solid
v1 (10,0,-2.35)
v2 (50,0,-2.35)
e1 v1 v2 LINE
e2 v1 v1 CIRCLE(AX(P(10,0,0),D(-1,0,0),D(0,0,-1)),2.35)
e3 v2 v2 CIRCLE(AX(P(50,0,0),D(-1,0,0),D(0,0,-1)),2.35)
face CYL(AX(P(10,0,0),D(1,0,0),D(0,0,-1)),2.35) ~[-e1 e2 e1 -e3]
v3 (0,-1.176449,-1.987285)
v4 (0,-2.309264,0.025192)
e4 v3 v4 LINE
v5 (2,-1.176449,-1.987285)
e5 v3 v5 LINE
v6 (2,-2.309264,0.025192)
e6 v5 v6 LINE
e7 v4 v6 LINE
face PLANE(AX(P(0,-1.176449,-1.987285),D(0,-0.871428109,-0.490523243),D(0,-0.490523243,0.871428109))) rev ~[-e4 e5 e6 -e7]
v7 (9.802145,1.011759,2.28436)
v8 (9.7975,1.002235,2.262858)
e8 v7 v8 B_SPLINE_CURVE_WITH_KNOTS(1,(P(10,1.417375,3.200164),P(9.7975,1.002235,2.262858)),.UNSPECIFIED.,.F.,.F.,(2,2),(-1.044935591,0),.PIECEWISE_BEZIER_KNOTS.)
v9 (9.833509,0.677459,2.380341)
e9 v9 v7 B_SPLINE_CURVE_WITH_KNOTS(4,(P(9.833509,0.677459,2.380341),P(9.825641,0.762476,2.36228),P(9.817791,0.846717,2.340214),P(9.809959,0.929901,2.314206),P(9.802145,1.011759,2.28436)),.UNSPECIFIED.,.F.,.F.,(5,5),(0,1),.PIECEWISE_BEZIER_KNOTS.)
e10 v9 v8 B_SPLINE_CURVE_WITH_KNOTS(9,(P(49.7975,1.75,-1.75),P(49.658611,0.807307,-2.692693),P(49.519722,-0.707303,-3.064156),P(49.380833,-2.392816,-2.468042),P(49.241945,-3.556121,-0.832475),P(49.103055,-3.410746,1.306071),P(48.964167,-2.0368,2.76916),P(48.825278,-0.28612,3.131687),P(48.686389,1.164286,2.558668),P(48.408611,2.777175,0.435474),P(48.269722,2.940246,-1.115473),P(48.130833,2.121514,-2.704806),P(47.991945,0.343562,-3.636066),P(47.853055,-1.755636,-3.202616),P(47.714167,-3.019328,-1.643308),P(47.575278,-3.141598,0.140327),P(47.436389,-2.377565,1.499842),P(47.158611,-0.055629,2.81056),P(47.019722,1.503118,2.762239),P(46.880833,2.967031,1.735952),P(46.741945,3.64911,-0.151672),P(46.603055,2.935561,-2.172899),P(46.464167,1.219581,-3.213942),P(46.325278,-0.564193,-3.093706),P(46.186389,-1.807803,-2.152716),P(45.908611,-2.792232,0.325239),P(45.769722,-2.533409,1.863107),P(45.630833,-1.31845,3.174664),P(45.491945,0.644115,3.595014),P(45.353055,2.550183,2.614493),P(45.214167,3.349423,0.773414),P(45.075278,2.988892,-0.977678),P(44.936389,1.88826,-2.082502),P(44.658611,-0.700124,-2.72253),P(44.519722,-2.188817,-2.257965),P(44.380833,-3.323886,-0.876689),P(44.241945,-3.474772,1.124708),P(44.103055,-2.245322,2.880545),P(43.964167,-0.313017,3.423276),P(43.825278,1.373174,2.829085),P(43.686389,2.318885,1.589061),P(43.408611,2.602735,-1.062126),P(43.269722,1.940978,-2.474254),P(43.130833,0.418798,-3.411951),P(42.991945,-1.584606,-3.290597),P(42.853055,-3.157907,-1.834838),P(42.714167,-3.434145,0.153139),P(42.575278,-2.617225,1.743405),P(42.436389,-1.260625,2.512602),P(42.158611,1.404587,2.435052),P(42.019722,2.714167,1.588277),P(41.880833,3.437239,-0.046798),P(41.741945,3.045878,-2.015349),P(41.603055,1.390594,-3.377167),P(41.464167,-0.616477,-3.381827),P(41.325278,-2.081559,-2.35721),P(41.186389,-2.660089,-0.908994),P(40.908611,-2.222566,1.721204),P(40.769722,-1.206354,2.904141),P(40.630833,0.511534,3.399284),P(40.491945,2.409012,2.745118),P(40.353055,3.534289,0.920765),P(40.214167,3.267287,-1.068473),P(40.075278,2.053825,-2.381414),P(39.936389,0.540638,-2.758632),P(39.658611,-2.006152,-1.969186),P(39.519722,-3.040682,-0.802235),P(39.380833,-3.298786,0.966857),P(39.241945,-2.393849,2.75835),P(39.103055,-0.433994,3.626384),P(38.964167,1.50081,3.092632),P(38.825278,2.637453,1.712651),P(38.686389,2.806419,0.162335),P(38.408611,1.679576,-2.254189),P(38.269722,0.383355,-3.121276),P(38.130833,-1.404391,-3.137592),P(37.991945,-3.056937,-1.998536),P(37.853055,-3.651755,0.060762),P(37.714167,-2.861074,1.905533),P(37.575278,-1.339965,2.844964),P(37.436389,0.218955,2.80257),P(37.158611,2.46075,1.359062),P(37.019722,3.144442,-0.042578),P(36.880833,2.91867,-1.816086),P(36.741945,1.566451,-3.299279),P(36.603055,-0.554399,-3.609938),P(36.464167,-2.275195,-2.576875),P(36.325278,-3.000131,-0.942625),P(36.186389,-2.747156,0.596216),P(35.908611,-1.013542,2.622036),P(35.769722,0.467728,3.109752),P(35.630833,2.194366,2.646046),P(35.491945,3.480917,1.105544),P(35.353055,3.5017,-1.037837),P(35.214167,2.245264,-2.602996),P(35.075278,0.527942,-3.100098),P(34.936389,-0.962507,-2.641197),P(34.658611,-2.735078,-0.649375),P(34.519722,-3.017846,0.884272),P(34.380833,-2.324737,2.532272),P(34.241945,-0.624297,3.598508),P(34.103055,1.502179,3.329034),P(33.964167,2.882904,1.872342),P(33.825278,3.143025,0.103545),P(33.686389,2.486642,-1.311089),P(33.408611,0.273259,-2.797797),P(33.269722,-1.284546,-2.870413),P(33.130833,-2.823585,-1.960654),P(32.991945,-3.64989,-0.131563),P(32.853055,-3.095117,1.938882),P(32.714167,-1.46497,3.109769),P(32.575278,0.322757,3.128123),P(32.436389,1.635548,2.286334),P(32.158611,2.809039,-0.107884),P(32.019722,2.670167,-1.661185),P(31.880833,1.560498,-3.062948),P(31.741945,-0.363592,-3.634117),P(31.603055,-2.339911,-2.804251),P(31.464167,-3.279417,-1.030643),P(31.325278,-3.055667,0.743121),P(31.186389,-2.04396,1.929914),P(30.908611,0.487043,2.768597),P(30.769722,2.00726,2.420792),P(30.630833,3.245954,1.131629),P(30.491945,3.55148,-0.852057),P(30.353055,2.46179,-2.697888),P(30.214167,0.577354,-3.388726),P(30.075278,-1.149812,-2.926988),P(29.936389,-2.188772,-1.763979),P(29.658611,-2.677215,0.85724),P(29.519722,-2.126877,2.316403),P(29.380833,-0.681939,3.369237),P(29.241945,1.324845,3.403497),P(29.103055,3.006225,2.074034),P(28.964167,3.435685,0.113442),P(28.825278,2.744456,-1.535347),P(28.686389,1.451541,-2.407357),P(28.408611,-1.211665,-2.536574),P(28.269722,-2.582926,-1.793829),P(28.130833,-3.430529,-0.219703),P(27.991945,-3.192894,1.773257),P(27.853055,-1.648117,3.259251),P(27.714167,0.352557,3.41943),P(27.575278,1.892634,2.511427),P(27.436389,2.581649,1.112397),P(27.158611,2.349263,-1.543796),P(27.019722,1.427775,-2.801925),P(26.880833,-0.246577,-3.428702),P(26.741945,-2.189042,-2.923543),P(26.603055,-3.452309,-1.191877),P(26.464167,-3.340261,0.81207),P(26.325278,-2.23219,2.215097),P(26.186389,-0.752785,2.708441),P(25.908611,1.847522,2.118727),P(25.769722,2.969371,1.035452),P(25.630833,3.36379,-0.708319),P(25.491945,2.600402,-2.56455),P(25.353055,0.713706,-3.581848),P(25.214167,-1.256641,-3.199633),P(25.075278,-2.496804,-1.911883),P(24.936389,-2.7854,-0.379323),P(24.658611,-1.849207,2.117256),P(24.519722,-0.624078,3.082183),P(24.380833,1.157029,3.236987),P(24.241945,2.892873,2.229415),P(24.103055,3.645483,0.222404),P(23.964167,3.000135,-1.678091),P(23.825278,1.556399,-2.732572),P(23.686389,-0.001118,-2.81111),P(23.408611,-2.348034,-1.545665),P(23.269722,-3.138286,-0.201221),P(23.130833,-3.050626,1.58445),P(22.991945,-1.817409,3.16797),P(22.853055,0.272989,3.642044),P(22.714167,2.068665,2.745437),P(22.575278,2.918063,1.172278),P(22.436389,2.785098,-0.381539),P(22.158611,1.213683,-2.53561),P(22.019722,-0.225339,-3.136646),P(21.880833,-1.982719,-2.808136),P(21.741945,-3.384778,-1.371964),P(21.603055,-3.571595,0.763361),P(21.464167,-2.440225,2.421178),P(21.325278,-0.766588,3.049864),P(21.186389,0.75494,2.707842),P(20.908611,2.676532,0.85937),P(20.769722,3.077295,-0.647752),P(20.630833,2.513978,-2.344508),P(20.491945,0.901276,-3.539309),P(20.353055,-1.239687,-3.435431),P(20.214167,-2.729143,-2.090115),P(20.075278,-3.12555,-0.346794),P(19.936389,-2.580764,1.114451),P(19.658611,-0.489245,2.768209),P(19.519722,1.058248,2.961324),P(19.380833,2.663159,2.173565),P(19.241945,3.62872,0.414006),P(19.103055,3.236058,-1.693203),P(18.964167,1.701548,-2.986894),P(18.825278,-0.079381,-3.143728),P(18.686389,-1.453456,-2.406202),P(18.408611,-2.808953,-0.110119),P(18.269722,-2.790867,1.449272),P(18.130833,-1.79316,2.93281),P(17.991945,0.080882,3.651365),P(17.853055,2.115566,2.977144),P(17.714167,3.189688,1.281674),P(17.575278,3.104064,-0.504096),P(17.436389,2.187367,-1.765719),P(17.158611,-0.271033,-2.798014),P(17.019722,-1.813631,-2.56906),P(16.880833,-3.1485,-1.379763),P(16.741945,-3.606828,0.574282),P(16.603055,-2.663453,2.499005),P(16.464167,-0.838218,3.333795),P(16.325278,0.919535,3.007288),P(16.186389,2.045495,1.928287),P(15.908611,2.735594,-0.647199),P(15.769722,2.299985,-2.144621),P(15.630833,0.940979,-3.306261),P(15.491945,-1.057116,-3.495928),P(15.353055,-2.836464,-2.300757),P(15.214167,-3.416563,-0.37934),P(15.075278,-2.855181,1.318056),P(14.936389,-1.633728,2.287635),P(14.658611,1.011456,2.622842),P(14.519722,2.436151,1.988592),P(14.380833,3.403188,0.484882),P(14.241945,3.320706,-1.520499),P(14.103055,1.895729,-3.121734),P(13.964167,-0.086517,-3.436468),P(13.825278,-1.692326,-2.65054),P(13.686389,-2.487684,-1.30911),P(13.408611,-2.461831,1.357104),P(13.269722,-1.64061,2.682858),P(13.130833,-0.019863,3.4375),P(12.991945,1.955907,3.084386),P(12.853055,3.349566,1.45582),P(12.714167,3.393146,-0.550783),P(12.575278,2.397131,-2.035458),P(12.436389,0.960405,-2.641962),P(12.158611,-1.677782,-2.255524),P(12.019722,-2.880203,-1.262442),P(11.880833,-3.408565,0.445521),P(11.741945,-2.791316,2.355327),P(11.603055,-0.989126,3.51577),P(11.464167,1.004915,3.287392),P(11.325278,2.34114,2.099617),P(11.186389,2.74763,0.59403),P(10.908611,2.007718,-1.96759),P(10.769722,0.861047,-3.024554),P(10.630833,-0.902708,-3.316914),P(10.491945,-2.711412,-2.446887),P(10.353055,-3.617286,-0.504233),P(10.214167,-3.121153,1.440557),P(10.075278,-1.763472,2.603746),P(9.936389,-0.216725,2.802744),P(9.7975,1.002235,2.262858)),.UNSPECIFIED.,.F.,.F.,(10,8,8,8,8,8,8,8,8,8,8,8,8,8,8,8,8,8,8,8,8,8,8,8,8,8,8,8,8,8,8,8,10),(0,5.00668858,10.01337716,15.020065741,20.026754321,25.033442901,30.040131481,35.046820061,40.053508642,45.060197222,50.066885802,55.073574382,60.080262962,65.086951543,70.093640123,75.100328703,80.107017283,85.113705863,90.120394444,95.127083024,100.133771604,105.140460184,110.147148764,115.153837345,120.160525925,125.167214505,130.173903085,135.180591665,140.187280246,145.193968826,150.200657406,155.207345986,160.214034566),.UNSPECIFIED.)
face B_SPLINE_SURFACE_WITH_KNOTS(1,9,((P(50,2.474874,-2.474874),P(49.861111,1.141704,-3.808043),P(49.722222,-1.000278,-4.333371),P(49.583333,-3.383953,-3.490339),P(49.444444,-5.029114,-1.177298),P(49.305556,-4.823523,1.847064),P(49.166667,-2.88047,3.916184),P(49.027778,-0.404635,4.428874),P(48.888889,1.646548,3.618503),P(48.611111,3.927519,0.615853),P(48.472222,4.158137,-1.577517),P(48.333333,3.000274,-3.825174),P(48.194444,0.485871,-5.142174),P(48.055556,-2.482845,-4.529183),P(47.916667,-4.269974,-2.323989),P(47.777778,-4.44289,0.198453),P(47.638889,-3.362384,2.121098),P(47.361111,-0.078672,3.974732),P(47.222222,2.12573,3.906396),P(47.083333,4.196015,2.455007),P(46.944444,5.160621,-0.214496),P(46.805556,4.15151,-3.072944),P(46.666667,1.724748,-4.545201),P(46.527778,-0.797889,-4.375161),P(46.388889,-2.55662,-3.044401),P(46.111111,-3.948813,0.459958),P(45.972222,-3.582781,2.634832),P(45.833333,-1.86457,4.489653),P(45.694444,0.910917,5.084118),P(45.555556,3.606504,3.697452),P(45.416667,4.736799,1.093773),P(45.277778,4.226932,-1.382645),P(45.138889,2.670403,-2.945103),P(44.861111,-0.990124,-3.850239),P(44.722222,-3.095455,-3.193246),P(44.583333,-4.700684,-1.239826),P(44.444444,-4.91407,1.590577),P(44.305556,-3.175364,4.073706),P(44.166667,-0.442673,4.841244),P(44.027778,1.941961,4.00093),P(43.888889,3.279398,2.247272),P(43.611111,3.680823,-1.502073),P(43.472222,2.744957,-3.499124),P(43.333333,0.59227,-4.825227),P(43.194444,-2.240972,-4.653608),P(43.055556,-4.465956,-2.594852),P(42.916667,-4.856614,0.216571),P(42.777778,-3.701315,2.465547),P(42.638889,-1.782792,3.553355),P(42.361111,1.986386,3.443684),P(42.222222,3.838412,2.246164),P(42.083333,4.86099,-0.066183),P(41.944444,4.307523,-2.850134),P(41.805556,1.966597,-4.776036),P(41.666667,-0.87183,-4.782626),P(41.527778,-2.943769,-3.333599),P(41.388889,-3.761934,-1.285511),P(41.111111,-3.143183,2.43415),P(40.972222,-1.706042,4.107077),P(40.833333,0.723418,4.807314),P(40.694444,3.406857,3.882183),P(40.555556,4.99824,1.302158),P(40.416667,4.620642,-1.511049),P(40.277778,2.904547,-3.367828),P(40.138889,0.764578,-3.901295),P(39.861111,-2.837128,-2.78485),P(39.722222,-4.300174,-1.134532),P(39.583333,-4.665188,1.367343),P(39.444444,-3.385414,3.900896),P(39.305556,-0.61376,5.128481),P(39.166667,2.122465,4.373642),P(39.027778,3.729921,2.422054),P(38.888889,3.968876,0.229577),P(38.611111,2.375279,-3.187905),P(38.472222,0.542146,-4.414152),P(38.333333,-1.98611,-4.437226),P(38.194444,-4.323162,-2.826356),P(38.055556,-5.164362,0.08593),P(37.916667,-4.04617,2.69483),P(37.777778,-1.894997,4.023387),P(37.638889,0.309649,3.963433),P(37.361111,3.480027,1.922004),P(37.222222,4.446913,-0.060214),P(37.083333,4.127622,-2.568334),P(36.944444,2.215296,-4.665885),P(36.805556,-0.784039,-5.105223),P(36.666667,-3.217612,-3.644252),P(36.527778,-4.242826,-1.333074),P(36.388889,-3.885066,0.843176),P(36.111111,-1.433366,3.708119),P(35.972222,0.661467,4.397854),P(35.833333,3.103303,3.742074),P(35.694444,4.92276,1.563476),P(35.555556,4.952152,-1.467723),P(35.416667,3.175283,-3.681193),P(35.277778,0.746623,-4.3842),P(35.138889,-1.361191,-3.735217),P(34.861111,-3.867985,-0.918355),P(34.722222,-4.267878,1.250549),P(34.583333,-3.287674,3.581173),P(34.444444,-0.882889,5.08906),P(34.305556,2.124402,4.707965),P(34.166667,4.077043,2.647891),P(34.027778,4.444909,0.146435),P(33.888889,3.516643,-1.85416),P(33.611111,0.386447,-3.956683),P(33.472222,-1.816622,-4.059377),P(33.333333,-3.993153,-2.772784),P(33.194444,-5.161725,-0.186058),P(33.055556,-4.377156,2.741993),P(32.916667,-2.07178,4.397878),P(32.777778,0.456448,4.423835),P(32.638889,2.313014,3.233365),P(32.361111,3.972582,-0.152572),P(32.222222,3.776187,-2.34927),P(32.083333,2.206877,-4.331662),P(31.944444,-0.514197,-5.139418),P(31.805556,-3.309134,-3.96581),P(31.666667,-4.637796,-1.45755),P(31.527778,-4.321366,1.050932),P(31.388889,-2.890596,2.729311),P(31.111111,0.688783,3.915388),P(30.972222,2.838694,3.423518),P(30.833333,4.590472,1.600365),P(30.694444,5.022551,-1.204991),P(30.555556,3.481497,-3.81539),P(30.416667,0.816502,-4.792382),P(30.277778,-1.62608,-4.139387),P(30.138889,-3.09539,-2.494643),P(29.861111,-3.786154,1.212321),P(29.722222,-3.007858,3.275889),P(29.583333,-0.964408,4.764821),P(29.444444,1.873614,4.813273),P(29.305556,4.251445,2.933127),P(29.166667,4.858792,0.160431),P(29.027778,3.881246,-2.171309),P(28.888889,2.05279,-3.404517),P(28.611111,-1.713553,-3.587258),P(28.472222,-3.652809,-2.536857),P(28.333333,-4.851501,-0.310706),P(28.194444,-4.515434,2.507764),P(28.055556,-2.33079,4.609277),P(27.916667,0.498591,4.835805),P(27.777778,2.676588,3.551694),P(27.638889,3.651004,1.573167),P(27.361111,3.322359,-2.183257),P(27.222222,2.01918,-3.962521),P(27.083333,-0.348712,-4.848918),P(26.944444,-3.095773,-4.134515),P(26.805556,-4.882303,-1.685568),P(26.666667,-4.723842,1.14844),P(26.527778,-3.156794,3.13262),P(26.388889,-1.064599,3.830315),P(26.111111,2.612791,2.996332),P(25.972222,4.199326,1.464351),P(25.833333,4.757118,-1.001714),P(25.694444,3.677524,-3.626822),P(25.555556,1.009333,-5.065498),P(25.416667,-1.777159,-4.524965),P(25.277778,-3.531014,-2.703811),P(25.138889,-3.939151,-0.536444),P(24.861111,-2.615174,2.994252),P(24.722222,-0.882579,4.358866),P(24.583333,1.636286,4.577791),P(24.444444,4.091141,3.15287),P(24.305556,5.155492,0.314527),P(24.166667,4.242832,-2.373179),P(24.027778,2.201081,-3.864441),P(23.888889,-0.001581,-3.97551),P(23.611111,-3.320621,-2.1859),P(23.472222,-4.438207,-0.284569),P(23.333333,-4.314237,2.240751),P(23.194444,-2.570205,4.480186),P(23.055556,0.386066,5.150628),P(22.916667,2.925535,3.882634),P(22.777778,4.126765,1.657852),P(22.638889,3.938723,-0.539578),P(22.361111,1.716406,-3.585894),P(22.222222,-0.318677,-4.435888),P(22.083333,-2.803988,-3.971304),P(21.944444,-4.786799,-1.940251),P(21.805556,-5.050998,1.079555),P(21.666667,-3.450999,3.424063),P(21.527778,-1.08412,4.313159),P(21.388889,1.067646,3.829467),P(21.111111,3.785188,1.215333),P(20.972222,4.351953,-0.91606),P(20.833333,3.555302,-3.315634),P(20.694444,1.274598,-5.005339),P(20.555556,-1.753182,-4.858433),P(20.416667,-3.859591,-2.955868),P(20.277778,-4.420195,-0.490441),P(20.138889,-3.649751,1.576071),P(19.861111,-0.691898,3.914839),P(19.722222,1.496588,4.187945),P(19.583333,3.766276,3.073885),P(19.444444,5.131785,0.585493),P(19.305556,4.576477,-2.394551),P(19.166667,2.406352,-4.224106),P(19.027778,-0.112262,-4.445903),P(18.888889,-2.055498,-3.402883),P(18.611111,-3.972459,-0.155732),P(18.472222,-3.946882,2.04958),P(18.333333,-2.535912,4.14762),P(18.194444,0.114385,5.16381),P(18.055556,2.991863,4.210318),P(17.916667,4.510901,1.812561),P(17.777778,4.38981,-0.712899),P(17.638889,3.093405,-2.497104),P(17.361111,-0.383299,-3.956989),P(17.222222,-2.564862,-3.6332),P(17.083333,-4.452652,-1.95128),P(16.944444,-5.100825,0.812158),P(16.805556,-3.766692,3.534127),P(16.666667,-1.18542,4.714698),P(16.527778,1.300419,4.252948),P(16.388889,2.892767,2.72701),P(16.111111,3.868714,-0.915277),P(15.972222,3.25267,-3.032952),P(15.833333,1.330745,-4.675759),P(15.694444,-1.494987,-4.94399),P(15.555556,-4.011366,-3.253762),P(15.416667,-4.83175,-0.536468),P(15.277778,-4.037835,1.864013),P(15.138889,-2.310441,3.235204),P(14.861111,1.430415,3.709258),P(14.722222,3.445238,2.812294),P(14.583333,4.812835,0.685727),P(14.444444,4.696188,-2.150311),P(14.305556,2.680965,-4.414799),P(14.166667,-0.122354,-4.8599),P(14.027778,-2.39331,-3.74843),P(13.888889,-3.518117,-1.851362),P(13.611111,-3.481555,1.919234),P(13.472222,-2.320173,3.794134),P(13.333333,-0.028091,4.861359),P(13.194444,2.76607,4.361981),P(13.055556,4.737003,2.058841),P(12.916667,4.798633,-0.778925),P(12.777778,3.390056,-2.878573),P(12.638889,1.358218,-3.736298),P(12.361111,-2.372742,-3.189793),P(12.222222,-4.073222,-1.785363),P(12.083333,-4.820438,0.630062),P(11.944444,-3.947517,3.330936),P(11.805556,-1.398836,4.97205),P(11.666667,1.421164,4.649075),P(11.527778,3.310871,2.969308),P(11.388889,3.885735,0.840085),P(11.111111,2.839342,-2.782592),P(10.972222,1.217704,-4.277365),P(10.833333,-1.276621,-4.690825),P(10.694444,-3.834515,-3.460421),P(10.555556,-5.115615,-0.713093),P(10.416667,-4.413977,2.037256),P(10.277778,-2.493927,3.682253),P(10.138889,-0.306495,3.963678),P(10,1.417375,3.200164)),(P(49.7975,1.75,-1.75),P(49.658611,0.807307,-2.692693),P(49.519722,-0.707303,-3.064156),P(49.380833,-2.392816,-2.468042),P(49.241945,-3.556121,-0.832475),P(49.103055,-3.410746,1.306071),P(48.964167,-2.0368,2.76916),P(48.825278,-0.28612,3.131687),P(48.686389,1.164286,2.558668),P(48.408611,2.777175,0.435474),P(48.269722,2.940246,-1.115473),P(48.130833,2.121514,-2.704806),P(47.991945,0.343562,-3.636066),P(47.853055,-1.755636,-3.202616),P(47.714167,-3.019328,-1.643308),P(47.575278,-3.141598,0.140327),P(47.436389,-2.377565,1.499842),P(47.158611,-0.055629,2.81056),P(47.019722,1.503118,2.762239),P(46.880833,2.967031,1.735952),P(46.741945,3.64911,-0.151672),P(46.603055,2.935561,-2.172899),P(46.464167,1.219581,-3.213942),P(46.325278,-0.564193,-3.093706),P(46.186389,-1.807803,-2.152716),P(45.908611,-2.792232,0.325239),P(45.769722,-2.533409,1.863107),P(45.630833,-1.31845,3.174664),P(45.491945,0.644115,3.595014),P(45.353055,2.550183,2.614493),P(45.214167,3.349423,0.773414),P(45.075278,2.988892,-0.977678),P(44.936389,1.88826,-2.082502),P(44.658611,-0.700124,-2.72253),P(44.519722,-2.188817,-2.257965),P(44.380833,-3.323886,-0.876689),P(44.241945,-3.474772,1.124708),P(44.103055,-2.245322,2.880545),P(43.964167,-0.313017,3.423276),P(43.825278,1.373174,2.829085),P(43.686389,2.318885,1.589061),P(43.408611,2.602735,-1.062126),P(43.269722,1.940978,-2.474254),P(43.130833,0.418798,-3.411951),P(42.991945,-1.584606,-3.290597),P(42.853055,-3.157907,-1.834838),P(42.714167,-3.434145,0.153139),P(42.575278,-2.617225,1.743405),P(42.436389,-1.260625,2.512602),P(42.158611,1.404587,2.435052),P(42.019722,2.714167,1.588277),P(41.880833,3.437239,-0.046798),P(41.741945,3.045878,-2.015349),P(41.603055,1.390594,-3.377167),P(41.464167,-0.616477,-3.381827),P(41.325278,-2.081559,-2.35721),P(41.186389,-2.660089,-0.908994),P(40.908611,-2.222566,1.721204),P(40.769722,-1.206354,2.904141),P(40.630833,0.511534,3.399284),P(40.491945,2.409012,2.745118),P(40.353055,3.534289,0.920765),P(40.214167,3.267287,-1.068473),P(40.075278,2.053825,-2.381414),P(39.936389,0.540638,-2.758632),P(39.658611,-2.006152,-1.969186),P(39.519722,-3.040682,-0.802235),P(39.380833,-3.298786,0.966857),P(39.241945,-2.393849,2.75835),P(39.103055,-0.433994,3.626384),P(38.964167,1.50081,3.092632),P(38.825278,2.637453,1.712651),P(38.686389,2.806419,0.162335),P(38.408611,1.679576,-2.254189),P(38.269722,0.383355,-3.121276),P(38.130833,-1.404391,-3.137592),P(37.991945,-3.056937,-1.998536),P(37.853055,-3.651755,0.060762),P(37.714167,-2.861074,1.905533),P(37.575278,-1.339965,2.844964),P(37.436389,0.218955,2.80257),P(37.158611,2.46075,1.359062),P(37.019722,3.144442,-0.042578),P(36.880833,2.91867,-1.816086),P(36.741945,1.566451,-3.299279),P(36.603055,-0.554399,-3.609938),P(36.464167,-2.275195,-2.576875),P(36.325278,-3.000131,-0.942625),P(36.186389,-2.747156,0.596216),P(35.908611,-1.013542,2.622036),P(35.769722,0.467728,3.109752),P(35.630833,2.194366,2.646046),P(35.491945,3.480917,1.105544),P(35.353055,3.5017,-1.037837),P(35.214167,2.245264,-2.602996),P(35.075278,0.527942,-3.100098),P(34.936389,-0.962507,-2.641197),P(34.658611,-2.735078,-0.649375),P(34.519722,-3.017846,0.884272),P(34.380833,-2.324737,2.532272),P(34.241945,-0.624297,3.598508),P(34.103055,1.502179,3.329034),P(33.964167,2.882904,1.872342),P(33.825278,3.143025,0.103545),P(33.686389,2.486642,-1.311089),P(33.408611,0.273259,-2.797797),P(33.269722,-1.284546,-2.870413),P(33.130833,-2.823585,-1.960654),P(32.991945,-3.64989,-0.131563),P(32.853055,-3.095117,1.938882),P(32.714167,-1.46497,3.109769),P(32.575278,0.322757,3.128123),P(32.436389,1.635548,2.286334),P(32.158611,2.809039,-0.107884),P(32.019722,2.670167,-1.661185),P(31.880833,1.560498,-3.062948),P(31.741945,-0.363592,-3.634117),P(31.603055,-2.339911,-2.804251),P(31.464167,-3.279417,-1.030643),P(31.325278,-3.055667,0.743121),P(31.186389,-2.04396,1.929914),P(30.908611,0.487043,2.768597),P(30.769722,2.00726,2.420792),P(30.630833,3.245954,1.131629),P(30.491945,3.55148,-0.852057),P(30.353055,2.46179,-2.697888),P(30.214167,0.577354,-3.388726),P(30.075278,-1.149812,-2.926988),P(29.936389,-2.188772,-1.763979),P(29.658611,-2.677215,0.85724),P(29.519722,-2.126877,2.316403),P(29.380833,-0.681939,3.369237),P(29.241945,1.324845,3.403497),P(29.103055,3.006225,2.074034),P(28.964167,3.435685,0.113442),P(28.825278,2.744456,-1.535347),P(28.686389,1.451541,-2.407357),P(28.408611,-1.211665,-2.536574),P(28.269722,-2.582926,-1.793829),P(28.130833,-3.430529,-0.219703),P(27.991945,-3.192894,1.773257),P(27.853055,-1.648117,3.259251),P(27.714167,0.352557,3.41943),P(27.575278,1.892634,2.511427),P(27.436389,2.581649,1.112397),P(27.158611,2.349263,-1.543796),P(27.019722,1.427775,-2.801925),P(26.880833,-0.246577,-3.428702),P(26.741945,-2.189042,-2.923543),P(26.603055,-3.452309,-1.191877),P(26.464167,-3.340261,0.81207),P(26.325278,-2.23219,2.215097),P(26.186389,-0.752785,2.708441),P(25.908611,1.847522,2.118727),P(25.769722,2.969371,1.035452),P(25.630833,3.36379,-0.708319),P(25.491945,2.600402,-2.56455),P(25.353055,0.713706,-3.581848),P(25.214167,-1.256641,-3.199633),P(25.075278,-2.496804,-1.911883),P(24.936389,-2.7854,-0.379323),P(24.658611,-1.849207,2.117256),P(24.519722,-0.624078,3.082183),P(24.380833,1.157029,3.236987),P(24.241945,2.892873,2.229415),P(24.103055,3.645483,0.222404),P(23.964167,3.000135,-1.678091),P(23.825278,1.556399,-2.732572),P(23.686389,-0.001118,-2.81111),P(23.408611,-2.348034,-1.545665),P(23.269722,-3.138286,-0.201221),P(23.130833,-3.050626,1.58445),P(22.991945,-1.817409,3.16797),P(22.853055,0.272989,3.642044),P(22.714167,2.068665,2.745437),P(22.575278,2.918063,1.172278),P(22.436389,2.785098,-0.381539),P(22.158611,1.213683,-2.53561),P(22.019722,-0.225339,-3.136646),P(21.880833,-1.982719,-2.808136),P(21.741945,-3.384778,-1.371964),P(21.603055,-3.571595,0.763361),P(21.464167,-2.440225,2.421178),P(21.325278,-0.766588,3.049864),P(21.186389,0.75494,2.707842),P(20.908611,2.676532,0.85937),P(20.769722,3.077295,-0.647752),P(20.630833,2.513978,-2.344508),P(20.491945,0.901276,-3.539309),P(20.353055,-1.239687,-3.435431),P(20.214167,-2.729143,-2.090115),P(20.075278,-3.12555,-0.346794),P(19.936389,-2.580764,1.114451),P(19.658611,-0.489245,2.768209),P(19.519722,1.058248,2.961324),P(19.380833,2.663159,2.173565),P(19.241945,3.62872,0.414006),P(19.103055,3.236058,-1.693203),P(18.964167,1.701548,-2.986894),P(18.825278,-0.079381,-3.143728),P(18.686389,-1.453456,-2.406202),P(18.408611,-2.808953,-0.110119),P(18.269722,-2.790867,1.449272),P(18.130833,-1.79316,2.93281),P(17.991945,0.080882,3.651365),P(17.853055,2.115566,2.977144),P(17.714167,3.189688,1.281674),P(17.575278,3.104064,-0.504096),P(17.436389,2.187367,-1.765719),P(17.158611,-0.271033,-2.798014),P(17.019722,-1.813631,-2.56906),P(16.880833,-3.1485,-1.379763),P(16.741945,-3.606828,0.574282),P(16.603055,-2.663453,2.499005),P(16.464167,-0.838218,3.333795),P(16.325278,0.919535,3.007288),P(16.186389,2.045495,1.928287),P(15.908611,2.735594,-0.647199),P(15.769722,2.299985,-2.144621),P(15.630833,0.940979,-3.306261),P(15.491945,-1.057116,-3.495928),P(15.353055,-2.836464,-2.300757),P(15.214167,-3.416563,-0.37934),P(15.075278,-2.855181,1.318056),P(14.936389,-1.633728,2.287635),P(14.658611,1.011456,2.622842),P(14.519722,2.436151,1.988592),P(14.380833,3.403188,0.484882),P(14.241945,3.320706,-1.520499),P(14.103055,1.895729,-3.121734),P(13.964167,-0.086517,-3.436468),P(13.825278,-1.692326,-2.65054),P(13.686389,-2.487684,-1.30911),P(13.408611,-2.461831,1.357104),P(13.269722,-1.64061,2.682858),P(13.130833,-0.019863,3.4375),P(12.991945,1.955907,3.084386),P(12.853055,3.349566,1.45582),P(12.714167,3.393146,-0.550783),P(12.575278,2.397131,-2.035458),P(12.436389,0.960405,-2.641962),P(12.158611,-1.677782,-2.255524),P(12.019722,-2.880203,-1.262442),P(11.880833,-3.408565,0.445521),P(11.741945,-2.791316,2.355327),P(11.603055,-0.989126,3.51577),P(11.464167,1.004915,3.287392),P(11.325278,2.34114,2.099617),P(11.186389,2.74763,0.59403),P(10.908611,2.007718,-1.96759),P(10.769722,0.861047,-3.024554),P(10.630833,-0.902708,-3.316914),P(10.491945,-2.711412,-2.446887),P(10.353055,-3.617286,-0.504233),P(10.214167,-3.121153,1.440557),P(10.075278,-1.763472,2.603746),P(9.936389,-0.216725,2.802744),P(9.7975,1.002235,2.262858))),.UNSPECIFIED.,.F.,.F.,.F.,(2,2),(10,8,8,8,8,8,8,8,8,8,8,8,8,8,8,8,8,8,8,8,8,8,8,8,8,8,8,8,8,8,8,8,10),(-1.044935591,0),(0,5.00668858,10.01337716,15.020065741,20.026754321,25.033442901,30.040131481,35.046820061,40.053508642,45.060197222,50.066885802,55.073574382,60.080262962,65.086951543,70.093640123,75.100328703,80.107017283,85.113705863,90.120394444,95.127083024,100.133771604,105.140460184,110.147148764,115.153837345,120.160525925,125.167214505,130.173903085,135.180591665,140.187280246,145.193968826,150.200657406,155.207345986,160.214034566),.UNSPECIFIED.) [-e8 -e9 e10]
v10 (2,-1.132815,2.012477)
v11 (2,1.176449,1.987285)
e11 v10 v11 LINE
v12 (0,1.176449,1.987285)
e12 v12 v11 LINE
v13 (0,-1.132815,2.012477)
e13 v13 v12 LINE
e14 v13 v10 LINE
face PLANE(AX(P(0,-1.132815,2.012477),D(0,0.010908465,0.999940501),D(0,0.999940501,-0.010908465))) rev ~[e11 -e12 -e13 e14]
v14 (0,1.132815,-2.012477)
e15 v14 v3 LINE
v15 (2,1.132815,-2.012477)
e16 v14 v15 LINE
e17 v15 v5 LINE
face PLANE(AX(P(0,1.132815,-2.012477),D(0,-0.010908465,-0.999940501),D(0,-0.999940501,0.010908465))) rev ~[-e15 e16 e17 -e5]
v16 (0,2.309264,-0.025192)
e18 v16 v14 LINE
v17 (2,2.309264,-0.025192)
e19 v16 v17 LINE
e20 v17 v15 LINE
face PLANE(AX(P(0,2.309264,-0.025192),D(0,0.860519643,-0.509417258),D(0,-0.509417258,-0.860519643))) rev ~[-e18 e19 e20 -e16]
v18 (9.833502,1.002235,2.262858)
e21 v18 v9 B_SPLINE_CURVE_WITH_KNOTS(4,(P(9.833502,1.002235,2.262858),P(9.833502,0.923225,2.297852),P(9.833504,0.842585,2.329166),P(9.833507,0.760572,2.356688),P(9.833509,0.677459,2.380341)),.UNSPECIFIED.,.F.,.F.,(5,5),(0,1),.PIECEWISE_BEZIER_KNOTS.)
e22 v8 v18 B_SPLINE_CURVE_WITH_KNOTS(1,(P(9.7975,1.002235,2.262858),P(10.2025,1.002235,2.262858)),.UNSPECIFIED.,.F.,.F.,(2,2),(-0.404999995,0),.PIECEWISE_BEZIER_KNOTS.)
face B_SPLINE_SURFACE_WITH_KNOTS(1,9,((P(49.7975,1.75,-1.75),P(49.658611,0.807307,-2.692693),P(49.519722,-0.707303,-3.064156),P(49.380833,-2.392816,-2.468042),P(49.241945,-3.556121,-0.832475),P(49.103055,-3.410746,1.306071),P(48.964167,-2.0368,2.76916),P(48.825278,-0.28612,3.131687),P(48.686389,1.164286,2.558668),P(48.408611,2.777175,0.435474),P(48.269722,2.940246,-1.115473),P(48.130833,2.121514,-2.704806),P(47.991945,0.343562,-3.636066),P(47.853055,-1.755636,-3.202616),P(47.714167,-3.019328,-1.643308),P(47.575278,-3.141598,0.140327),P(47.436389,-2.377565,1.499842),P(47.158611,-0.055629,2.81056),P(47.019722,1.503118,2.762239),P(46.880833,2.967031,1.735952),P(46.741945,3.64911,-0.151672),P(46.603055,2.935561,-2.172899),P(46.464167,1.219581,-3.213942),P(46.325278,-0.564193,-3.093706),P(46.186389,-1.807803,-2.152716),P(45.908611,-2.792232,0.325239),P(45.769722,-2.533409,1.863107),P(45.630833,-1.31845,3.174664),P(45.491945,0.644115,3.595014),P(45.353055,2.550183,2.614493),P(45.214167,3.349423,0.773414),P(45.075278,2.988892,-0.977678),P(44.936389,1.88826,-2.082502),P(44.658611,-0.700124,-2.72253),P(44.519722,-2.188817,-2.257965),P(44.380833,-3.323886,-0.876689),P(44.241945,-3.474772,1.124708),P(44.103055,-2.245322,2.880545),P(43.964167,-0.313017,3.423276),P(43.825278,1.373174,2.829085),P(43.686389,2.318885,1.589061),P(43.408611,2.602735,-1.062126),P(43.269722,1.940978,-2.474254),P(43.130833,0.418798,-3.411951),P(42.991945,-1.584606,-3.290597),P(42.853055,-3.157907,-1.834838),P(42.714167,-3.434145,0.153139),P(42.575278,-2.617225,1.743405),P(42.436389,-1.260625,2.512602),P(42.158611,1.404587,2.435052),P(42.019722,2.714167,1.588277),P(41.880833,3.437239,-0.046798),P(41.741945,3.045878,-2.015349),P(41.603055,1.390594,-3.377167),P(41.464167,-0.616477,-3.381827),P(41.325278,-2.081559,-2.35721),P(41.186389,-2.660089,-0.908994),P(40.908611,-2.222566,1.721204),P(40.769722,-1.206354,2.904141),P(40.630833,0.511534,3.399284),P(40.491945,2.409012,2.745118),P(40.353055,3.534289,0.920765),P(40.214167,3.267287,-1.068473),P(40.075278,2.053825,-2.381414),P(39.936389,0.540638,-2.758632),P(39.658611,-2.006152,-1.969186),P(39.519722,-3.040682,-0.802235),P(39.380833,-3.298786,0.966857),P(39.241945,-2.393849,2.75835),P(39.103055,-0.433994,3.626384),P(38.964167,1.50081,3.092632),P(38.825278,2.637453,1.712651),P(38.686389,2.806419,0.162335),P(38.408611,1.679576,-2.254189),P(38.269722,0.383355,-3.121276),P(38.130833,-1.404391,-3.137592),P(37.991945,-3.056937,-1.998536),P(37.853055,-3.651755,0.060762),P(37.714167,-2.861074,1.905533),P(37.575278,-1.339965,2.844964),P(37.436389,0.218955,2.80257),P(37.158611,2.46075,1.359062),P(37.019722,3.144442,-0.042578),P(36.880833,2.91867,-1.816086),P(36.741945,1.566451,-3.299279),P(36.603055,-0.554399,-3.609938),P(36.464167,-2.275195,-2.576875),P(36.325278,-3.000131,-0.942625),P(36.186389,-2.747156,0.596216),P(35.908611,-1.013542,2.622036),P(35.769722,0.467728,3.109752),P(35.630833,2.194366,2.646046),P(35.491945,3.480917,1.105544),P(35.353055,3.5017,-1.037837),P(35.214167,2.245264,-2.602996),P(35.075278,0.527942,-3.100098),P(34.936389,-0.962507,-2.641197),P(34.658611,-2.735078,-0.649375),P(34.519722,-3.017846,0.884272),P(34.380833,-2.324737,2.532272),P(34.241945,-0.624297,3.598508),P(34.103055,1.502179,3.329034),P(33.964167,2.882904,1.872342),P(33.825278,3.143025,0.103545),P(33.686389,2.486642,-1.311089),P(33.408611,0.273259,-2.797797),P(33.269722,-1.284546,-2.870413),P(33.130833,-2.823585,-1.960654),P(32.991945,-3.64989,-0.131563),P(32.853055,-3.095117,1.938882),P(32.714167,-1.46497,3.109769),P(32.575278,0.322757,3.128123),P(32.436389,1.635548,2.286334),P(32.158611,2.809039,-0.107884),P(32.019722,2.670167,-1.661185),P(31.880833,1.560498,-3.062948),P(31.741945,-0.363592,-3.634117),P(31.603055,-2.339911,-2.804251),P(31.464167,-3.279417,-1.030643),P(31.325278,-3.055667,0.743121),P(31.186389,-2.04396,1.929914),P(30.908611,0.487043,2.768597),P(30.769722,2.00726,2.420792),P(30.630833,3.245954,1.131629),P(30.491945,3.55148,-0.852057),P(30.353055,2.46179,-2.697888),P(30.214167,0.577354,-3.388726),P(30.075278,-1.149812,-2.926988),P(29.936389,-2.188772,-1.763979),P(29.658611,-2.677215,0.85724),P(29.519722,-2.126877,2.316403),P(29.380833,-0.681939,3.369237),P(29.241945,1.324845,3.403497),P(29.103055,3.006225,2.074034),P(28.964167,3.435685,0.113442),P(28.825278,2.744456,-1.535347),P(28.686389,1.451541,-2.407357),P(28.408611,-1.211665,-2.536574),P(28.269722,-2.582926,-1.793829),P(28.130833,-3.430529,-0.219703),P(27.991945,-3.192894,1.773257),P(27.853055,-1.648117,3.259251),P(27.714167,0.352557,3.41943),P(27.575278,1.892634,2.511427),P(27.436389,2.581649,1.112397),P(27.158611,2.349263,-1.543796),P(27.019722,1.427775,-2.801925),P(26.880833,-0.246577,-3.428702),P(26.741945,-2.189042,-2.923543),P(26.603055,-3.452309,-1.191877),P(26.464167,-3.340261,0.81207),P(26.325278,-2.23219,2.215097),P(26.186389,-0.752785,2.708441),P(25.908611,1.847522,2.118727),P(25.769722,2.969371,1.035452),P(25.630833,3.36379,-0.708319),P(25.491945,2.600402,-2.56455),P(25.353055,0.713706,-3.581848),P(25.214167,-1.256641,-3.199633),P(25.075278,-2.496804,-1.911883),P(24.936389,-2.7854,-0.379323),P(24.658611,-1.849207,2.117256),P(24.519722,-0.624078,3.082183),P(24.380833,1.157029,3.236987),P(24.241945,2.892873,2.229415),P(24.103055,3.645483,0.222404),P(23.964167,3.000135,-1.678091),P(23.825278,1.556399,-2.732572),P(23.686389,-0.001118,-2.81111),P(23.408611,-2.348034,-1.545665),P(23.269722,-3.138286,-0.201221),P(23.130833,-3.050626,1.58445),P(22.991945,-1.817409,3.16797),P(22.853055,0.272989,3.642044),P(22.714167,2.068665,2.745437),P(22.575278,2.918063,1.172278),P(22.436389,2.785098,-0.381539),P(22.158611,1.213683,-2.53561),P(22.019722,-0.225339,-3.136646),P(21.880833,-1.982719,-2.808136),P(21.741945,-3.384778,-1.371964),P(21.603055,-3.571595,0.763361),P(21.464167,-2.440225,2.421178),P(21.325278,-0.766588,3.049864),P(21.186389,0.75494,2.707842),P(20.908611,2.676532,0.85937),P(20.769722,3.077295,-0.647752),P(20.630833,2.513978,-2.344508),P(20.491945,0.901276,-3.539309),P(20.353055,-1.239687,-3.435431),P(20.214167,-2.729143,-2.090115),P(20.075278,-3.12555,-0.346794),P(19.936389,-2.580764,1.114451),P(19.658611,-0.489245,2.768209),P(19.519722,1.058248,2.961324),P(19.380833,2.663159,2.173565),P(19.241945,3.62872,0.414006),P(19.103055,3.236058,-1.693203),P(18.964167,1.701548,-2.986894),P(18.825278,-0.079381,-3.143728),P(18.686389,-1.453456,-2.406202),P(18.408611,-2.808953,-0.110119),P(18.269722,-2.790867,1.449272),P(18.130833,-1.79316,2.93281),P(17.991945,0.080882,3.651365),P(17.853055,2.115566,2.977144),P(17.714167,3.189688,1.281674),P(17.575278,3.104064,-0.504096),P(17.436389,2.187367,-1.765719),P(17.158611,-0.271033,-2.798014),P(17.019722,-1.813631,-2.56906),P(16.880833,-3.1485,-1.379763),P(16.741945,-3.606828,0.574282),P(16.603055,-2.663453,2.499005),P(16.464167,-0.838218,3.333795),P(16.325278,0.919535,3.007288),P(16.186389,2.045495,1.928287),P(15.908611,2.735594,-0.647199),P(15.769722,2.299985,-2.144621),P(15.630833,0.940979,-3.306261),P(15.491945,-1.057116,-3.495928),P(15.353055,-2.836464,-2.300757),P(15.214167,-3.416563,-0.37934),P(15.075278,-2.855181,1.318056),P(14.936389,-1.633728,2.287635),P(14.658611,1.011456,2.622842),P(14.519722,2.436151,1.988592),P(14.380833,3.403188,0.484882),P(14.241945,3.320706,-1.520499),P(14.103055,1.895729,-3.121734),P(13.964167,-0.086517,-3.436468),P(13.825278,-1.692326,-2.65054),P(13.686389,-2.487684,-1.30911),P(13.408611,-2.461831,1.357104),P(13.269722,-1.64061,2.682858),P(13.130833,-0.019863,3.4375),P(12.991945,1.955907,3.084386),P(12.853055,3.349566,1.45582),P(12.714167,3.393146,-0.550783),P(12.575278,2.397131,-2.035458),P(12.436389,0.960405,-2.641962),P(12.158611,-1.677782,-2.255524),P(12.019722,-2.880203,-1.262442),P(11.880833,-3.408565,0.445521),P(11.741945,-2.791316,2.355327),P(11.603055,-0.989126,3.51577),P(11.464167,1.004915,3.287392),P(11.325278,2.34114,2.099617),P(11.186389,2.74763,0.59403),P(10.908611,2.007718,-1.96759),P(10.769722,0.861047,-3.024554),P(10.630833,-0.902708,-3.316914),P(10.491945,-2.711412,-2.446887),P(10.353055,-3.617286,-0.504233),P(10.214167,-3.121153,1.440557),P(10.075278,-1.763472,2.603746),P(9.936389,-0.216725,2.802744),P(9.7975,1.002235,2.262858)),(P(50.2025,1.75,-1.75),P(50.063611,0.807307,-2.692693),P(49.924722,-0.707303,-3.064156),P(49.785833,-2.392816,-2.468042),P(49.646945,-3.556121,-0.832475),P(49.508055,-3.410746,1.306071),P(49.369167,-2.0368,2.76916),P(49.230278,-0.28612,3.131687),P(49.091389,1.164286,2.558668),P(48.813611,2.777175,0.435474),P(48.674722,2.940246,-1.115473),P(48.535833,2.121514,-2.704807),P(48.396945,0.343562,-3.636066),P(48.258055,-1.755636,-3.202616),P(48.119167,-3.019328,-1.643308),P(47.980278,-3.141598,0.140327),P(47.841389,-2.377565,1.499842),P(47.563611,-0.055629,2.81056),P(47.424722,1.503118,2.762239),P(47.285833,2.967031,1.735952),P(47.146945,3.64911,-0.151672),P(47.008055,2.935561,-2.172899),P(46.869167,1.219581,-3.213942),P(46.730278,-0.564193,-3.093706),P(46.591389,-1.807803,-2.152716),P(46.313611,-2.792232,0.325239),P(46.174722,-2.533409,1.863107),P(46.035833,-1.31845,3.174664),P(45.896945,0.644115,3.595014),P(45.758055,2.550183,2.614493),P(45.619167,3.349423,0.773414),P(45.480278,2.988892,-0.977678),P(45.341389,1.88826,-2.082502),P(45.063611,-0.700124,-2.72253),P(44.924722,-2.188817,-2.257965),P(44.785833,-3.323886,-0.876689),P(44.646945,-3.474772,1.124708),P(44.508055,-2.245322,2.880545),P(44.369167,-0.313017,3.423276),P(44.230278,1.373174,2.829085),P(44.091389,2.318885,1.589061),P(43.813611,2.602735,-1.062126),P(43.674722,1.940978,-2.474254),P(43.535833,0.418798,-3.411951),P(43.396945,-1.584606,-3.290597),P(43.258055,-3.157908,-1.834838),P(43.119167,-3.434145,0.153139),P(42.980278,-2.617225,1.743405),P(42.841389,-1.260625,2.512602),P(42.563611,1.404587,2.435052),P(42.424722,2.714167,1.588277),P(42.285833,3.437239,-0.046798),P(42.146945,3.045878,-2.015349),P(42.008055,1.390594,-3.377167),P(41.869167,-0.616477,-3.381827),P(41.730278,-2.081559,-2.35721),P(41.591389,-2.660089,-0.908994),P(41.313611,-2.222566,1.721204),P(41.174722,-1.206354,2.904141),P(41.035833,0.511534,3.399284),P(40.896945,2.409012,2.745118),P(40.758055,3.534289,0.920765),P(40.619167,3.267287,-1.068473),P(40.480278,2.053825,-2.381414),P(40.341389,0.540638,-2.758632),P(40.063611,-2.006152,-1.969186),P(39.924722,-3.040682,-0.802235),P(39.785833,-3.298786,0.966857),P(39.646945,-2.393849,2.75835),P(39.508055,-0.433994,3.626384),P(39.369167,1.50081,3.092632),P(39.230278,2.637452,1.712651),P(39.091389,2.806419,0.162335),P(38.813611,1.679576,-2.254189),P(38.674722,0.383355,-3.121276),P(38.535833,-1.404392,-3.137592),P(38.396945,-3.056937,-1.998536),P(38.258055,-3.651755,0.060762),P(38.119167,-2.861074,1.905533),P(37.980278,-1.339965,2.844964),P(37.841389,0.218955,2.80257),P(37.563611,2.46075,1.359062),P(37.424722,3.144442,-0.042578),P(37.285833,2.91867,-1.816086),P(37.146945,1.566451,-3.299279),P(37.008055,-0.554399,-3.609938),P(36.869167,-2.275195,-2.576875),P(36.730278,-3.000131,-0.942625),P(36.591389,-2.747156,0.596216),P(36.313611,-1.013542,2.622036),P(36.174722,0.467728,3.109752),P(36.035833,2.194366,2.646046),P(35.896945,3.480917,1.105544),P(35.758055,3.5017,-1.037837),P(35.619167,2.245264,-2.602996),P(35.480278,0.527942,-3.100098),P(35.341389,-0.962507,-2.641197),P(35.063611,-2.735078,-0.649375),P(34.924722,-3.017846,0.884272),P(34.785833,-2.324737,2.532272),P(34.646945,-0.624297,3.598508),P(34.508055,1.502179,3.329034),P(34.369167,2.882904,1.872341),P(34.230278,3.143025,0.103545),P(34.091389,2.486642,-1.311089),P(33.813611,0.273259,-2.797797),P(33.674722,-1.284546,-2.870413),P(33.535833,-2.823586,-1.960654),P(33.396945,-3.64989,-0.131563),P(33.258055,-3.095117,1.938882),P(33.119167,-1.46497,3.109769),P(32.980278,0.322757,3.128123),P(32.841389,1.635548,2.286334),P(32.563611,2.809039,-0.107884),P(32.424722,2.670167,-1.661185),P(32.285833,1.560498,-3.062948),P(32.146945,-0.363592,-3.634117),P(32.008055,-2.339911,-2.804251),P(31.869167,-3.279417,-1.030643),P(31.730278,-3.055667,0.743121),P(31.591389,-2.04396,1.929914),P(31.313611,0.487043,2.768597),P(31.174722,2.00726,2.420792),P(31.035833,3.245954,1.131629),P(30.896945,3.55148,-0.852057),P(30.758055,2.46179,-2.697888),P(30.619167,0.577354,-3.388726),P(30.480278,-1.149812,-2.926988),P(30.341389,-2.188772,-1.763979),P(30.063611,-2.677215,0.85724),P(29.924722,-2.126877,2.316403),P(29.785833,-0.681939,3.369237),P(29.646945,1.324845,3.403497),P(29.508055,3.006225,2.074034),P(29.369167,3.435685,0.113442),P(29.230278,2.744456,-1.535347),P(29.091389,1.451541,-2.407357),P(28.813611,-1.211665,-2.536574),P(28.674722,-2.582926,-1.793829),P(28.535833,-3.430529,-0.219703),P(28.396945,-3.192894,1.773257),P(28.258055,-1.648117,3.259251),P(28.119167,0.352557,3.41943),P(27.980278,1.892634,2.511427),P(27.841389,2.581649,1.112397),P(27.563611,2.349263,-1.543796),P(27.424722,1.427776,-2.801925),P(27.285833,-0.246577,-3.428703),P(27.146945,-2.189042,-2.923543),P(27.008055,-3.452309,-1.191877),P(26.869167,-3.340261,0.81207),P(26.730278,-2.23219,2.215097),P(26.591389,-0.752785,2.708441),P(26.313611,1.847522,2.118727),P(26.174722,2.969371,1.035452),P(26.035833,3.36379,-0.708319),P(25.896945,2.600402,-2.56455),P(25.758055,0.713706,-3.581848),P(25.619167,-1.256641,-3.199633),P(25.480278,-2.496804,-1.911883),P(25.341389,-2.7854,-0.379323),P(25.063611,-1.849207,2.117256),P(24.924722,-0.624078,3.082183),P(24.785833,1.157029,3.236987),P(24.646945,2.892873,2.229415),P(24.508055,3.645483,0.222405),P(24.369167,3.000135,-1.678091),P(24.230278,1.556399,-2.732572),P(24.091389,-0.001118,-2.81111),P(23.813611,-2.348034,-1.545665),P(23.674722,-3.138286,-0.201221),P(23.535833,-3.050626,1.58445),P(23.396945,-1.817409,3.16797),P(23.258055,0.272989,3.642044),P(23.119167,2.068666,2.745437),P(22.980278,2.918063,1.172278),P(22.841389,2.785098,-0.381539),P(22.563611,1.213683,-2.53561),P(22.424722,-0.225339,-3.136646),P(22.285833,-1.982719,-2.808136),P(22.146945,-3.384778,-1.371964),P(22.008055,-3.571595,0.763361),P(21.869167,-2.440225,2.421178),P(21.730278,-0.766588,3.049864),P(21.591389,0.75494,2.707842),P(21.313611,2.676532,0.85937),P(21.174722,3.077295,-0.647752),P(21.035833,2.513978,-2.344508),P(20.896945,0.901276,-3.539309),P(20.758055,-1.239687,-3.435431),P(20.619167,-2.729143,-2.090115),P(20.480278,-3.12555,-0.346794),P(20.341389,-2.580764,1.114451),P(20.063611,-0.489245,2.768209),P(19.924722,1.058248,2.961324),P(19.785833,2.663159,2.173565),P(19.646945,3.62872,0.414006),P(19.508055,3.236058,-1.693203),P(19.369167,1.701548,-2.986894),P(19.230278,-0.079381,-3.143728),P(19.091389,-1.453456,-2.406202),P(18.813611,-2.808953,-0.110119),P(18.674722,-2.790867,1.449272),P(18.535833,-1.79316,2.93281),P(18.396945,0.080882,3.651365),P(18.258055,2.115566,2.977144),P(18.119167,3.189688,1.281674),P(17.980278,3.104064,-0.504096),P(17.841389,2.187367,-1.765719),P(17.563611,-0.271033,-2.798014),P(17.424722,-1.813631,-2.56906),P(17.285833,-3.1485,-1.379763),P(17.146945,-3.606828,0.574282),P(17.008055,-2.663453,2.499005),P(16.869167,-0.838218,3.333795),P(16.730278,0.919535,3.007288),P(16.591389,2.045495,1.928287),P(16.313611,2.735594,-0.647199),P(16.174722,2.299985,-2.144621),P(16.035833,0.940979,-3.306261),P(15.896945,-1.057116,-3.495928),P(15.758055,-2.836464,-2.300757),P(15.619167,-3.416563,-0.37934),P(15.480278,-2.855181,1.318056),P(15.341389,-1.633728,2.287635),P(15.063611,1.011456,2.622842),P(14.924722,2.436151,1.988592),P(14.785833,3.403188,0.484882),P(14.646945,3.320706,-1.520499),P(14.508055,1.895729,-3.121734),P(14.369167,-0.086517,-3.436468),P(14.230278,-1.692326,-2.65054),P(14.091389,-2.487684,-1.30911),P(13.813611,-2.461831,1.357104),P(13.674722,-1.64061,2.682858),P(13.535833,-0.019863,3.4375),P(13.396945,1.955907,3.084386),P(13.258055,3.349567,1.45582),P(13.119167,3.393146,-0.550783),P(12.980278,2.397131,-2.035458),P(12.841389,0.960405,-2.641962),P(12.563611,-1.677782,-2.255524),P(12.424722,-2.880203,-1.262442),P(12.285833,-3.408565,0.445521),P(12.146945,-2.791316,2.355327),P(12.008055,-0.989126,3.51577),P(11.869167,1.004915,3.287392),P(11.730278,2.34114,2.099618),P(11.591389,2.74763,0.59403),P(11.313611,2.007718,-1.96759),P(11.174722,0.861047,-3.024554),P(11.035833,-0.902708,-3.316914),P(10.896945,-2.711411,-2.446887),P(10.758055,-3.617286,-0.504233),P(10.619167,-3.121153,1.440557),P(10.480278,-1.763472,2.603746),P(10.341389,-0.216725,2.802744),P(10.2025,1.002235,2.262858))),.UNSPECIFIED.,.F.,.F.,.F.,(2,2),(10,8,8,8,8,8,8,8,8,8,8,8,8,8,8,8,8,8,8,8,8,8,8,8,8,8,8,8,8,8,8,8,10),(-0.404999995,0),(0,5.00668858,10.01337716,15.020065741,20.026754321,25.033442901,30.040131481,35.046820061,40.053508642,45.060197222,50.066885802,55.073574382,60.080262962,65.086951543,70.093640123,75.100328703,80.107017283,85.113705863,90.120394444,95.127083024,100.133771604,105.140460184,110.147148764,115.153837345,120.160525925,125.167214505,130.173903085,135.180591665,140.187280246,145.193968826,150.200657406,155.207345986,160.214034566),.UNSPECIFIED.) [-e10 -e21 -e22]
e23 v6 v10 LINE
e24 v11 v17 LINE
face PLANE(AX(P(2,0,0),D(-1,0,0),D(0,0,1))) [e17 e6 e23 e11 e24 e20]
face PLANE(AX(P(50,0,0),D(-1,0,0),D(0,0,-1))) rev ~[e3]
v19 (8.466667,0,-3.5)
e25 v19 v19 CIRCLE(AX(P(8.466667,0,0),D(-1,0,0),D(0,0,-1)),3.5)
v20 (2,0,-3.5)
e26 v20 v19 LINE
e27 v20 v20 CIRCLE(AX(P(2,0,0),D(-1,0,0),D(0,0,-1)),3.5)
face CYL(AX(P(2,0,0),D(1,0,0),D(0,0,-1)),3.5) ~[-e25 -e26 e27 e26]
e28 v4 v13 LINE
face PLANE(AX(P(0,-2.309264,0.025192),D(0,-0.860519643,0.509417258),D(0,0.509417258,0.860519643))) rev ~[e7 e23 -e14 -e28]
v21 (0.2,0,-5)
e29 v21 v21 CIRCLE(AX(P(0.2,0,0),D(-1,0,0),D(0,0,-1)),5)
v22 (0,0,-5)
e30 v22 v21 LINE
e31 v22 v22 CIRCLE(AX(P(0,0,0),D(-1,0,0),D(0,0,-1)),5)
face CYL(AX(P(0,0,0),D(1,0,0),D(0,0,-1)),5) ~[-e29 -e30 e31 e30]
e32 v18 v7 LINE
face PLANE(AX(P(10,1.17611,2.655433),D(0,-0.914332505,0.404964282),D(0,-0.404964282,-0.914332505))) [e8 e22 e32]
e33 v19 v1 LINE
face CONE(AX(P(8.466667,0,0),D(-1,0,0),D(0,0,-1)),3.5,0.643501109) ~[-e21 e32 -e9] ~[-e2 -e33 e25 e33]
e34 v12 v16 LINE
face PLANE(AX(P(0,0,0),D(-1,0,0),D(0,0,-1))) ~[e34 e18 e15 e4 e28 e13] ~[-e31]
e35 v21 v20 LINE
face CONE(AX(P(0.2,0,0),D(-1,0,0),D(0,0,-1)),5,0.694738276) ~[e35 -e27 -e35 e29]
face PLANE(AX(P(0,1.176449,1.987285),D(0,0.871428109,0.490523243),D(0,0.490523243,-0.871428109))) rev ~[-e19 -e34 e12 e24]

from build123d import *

# Parameters (mm, degrees)
CUT_EXTRUDE1_DEPTH     = 2
CUT_SWEEP6_PITCH       = 1.62
CUT_SWEEP6_HEIGHT      = 40
CUT_SWEEP6_RADIUS      = 3.5
CUT_SWEEP6_START_ANGLE = -45


with BuildPart() as part:
    # Sketch1 → Revolve1 (revolve)
    with BuildSketch(Plane(origin=(0, 0, 0), x_dir=(1, 0, 0), z_dir=(0, 1, 0))):
        Polygon((0, 0), (0, 5), (0.2, 5), (2, 3.5), (8.466666667, 3.5), (10, 2.35), (50, 2.35), (50, 0), align=None)
    revolve(axis=Axis((50, 0, 0), (-1, 0, 0)))

    # Sketch2 → Cut-Extrude1 (cut)
    with BuildSketch(Plane.ZY):
        Polygon((1.987284991, 1.176448765), (-0.025192021, 2.30926367), (-2.012477012, 1.132814905), (-1.987284991, -1.176448765), (0.025192021, -2.30926367), (2.012477012, -1.132814905), align=None)
    extrude(amount=-CUT_EXTRUDE1_DEPTH, mode=Mode.SUBTRACT)

    # Cut-Sweep6: sweep along a helix
    with BuildLine() as cut_sweep6_path:
        add(Helix(CUT_SWEEP6_PITCH, CUT_SWEEP6_HEIGHT, CUT_SWEEP6_RADIUS, center=(50, 0, 0), direction=(-1, 0, 0), mode=Mode.PRIVATE).rotate(Axis((50, 0, 0), (-1, 0, 0)), CUT_SWEEP6_START_ANGLE))
    # Sketch6 → Cut-Sweep6 (sweep, cut)
    with BuildSketch(Plane(origin=(0, 0, 0), x_dir=(1, 0, 0), z_dir=(0, 1, 0))):
        Polygon((50, 2.474873734), (49.595000005, 2.474873734), (49.797500002, 3.500000136), align=None)
    sweep(path=cut_sweep6_path.line, is_frenet=True, mode=Mode.SUBTRACT)


solid = part.part
